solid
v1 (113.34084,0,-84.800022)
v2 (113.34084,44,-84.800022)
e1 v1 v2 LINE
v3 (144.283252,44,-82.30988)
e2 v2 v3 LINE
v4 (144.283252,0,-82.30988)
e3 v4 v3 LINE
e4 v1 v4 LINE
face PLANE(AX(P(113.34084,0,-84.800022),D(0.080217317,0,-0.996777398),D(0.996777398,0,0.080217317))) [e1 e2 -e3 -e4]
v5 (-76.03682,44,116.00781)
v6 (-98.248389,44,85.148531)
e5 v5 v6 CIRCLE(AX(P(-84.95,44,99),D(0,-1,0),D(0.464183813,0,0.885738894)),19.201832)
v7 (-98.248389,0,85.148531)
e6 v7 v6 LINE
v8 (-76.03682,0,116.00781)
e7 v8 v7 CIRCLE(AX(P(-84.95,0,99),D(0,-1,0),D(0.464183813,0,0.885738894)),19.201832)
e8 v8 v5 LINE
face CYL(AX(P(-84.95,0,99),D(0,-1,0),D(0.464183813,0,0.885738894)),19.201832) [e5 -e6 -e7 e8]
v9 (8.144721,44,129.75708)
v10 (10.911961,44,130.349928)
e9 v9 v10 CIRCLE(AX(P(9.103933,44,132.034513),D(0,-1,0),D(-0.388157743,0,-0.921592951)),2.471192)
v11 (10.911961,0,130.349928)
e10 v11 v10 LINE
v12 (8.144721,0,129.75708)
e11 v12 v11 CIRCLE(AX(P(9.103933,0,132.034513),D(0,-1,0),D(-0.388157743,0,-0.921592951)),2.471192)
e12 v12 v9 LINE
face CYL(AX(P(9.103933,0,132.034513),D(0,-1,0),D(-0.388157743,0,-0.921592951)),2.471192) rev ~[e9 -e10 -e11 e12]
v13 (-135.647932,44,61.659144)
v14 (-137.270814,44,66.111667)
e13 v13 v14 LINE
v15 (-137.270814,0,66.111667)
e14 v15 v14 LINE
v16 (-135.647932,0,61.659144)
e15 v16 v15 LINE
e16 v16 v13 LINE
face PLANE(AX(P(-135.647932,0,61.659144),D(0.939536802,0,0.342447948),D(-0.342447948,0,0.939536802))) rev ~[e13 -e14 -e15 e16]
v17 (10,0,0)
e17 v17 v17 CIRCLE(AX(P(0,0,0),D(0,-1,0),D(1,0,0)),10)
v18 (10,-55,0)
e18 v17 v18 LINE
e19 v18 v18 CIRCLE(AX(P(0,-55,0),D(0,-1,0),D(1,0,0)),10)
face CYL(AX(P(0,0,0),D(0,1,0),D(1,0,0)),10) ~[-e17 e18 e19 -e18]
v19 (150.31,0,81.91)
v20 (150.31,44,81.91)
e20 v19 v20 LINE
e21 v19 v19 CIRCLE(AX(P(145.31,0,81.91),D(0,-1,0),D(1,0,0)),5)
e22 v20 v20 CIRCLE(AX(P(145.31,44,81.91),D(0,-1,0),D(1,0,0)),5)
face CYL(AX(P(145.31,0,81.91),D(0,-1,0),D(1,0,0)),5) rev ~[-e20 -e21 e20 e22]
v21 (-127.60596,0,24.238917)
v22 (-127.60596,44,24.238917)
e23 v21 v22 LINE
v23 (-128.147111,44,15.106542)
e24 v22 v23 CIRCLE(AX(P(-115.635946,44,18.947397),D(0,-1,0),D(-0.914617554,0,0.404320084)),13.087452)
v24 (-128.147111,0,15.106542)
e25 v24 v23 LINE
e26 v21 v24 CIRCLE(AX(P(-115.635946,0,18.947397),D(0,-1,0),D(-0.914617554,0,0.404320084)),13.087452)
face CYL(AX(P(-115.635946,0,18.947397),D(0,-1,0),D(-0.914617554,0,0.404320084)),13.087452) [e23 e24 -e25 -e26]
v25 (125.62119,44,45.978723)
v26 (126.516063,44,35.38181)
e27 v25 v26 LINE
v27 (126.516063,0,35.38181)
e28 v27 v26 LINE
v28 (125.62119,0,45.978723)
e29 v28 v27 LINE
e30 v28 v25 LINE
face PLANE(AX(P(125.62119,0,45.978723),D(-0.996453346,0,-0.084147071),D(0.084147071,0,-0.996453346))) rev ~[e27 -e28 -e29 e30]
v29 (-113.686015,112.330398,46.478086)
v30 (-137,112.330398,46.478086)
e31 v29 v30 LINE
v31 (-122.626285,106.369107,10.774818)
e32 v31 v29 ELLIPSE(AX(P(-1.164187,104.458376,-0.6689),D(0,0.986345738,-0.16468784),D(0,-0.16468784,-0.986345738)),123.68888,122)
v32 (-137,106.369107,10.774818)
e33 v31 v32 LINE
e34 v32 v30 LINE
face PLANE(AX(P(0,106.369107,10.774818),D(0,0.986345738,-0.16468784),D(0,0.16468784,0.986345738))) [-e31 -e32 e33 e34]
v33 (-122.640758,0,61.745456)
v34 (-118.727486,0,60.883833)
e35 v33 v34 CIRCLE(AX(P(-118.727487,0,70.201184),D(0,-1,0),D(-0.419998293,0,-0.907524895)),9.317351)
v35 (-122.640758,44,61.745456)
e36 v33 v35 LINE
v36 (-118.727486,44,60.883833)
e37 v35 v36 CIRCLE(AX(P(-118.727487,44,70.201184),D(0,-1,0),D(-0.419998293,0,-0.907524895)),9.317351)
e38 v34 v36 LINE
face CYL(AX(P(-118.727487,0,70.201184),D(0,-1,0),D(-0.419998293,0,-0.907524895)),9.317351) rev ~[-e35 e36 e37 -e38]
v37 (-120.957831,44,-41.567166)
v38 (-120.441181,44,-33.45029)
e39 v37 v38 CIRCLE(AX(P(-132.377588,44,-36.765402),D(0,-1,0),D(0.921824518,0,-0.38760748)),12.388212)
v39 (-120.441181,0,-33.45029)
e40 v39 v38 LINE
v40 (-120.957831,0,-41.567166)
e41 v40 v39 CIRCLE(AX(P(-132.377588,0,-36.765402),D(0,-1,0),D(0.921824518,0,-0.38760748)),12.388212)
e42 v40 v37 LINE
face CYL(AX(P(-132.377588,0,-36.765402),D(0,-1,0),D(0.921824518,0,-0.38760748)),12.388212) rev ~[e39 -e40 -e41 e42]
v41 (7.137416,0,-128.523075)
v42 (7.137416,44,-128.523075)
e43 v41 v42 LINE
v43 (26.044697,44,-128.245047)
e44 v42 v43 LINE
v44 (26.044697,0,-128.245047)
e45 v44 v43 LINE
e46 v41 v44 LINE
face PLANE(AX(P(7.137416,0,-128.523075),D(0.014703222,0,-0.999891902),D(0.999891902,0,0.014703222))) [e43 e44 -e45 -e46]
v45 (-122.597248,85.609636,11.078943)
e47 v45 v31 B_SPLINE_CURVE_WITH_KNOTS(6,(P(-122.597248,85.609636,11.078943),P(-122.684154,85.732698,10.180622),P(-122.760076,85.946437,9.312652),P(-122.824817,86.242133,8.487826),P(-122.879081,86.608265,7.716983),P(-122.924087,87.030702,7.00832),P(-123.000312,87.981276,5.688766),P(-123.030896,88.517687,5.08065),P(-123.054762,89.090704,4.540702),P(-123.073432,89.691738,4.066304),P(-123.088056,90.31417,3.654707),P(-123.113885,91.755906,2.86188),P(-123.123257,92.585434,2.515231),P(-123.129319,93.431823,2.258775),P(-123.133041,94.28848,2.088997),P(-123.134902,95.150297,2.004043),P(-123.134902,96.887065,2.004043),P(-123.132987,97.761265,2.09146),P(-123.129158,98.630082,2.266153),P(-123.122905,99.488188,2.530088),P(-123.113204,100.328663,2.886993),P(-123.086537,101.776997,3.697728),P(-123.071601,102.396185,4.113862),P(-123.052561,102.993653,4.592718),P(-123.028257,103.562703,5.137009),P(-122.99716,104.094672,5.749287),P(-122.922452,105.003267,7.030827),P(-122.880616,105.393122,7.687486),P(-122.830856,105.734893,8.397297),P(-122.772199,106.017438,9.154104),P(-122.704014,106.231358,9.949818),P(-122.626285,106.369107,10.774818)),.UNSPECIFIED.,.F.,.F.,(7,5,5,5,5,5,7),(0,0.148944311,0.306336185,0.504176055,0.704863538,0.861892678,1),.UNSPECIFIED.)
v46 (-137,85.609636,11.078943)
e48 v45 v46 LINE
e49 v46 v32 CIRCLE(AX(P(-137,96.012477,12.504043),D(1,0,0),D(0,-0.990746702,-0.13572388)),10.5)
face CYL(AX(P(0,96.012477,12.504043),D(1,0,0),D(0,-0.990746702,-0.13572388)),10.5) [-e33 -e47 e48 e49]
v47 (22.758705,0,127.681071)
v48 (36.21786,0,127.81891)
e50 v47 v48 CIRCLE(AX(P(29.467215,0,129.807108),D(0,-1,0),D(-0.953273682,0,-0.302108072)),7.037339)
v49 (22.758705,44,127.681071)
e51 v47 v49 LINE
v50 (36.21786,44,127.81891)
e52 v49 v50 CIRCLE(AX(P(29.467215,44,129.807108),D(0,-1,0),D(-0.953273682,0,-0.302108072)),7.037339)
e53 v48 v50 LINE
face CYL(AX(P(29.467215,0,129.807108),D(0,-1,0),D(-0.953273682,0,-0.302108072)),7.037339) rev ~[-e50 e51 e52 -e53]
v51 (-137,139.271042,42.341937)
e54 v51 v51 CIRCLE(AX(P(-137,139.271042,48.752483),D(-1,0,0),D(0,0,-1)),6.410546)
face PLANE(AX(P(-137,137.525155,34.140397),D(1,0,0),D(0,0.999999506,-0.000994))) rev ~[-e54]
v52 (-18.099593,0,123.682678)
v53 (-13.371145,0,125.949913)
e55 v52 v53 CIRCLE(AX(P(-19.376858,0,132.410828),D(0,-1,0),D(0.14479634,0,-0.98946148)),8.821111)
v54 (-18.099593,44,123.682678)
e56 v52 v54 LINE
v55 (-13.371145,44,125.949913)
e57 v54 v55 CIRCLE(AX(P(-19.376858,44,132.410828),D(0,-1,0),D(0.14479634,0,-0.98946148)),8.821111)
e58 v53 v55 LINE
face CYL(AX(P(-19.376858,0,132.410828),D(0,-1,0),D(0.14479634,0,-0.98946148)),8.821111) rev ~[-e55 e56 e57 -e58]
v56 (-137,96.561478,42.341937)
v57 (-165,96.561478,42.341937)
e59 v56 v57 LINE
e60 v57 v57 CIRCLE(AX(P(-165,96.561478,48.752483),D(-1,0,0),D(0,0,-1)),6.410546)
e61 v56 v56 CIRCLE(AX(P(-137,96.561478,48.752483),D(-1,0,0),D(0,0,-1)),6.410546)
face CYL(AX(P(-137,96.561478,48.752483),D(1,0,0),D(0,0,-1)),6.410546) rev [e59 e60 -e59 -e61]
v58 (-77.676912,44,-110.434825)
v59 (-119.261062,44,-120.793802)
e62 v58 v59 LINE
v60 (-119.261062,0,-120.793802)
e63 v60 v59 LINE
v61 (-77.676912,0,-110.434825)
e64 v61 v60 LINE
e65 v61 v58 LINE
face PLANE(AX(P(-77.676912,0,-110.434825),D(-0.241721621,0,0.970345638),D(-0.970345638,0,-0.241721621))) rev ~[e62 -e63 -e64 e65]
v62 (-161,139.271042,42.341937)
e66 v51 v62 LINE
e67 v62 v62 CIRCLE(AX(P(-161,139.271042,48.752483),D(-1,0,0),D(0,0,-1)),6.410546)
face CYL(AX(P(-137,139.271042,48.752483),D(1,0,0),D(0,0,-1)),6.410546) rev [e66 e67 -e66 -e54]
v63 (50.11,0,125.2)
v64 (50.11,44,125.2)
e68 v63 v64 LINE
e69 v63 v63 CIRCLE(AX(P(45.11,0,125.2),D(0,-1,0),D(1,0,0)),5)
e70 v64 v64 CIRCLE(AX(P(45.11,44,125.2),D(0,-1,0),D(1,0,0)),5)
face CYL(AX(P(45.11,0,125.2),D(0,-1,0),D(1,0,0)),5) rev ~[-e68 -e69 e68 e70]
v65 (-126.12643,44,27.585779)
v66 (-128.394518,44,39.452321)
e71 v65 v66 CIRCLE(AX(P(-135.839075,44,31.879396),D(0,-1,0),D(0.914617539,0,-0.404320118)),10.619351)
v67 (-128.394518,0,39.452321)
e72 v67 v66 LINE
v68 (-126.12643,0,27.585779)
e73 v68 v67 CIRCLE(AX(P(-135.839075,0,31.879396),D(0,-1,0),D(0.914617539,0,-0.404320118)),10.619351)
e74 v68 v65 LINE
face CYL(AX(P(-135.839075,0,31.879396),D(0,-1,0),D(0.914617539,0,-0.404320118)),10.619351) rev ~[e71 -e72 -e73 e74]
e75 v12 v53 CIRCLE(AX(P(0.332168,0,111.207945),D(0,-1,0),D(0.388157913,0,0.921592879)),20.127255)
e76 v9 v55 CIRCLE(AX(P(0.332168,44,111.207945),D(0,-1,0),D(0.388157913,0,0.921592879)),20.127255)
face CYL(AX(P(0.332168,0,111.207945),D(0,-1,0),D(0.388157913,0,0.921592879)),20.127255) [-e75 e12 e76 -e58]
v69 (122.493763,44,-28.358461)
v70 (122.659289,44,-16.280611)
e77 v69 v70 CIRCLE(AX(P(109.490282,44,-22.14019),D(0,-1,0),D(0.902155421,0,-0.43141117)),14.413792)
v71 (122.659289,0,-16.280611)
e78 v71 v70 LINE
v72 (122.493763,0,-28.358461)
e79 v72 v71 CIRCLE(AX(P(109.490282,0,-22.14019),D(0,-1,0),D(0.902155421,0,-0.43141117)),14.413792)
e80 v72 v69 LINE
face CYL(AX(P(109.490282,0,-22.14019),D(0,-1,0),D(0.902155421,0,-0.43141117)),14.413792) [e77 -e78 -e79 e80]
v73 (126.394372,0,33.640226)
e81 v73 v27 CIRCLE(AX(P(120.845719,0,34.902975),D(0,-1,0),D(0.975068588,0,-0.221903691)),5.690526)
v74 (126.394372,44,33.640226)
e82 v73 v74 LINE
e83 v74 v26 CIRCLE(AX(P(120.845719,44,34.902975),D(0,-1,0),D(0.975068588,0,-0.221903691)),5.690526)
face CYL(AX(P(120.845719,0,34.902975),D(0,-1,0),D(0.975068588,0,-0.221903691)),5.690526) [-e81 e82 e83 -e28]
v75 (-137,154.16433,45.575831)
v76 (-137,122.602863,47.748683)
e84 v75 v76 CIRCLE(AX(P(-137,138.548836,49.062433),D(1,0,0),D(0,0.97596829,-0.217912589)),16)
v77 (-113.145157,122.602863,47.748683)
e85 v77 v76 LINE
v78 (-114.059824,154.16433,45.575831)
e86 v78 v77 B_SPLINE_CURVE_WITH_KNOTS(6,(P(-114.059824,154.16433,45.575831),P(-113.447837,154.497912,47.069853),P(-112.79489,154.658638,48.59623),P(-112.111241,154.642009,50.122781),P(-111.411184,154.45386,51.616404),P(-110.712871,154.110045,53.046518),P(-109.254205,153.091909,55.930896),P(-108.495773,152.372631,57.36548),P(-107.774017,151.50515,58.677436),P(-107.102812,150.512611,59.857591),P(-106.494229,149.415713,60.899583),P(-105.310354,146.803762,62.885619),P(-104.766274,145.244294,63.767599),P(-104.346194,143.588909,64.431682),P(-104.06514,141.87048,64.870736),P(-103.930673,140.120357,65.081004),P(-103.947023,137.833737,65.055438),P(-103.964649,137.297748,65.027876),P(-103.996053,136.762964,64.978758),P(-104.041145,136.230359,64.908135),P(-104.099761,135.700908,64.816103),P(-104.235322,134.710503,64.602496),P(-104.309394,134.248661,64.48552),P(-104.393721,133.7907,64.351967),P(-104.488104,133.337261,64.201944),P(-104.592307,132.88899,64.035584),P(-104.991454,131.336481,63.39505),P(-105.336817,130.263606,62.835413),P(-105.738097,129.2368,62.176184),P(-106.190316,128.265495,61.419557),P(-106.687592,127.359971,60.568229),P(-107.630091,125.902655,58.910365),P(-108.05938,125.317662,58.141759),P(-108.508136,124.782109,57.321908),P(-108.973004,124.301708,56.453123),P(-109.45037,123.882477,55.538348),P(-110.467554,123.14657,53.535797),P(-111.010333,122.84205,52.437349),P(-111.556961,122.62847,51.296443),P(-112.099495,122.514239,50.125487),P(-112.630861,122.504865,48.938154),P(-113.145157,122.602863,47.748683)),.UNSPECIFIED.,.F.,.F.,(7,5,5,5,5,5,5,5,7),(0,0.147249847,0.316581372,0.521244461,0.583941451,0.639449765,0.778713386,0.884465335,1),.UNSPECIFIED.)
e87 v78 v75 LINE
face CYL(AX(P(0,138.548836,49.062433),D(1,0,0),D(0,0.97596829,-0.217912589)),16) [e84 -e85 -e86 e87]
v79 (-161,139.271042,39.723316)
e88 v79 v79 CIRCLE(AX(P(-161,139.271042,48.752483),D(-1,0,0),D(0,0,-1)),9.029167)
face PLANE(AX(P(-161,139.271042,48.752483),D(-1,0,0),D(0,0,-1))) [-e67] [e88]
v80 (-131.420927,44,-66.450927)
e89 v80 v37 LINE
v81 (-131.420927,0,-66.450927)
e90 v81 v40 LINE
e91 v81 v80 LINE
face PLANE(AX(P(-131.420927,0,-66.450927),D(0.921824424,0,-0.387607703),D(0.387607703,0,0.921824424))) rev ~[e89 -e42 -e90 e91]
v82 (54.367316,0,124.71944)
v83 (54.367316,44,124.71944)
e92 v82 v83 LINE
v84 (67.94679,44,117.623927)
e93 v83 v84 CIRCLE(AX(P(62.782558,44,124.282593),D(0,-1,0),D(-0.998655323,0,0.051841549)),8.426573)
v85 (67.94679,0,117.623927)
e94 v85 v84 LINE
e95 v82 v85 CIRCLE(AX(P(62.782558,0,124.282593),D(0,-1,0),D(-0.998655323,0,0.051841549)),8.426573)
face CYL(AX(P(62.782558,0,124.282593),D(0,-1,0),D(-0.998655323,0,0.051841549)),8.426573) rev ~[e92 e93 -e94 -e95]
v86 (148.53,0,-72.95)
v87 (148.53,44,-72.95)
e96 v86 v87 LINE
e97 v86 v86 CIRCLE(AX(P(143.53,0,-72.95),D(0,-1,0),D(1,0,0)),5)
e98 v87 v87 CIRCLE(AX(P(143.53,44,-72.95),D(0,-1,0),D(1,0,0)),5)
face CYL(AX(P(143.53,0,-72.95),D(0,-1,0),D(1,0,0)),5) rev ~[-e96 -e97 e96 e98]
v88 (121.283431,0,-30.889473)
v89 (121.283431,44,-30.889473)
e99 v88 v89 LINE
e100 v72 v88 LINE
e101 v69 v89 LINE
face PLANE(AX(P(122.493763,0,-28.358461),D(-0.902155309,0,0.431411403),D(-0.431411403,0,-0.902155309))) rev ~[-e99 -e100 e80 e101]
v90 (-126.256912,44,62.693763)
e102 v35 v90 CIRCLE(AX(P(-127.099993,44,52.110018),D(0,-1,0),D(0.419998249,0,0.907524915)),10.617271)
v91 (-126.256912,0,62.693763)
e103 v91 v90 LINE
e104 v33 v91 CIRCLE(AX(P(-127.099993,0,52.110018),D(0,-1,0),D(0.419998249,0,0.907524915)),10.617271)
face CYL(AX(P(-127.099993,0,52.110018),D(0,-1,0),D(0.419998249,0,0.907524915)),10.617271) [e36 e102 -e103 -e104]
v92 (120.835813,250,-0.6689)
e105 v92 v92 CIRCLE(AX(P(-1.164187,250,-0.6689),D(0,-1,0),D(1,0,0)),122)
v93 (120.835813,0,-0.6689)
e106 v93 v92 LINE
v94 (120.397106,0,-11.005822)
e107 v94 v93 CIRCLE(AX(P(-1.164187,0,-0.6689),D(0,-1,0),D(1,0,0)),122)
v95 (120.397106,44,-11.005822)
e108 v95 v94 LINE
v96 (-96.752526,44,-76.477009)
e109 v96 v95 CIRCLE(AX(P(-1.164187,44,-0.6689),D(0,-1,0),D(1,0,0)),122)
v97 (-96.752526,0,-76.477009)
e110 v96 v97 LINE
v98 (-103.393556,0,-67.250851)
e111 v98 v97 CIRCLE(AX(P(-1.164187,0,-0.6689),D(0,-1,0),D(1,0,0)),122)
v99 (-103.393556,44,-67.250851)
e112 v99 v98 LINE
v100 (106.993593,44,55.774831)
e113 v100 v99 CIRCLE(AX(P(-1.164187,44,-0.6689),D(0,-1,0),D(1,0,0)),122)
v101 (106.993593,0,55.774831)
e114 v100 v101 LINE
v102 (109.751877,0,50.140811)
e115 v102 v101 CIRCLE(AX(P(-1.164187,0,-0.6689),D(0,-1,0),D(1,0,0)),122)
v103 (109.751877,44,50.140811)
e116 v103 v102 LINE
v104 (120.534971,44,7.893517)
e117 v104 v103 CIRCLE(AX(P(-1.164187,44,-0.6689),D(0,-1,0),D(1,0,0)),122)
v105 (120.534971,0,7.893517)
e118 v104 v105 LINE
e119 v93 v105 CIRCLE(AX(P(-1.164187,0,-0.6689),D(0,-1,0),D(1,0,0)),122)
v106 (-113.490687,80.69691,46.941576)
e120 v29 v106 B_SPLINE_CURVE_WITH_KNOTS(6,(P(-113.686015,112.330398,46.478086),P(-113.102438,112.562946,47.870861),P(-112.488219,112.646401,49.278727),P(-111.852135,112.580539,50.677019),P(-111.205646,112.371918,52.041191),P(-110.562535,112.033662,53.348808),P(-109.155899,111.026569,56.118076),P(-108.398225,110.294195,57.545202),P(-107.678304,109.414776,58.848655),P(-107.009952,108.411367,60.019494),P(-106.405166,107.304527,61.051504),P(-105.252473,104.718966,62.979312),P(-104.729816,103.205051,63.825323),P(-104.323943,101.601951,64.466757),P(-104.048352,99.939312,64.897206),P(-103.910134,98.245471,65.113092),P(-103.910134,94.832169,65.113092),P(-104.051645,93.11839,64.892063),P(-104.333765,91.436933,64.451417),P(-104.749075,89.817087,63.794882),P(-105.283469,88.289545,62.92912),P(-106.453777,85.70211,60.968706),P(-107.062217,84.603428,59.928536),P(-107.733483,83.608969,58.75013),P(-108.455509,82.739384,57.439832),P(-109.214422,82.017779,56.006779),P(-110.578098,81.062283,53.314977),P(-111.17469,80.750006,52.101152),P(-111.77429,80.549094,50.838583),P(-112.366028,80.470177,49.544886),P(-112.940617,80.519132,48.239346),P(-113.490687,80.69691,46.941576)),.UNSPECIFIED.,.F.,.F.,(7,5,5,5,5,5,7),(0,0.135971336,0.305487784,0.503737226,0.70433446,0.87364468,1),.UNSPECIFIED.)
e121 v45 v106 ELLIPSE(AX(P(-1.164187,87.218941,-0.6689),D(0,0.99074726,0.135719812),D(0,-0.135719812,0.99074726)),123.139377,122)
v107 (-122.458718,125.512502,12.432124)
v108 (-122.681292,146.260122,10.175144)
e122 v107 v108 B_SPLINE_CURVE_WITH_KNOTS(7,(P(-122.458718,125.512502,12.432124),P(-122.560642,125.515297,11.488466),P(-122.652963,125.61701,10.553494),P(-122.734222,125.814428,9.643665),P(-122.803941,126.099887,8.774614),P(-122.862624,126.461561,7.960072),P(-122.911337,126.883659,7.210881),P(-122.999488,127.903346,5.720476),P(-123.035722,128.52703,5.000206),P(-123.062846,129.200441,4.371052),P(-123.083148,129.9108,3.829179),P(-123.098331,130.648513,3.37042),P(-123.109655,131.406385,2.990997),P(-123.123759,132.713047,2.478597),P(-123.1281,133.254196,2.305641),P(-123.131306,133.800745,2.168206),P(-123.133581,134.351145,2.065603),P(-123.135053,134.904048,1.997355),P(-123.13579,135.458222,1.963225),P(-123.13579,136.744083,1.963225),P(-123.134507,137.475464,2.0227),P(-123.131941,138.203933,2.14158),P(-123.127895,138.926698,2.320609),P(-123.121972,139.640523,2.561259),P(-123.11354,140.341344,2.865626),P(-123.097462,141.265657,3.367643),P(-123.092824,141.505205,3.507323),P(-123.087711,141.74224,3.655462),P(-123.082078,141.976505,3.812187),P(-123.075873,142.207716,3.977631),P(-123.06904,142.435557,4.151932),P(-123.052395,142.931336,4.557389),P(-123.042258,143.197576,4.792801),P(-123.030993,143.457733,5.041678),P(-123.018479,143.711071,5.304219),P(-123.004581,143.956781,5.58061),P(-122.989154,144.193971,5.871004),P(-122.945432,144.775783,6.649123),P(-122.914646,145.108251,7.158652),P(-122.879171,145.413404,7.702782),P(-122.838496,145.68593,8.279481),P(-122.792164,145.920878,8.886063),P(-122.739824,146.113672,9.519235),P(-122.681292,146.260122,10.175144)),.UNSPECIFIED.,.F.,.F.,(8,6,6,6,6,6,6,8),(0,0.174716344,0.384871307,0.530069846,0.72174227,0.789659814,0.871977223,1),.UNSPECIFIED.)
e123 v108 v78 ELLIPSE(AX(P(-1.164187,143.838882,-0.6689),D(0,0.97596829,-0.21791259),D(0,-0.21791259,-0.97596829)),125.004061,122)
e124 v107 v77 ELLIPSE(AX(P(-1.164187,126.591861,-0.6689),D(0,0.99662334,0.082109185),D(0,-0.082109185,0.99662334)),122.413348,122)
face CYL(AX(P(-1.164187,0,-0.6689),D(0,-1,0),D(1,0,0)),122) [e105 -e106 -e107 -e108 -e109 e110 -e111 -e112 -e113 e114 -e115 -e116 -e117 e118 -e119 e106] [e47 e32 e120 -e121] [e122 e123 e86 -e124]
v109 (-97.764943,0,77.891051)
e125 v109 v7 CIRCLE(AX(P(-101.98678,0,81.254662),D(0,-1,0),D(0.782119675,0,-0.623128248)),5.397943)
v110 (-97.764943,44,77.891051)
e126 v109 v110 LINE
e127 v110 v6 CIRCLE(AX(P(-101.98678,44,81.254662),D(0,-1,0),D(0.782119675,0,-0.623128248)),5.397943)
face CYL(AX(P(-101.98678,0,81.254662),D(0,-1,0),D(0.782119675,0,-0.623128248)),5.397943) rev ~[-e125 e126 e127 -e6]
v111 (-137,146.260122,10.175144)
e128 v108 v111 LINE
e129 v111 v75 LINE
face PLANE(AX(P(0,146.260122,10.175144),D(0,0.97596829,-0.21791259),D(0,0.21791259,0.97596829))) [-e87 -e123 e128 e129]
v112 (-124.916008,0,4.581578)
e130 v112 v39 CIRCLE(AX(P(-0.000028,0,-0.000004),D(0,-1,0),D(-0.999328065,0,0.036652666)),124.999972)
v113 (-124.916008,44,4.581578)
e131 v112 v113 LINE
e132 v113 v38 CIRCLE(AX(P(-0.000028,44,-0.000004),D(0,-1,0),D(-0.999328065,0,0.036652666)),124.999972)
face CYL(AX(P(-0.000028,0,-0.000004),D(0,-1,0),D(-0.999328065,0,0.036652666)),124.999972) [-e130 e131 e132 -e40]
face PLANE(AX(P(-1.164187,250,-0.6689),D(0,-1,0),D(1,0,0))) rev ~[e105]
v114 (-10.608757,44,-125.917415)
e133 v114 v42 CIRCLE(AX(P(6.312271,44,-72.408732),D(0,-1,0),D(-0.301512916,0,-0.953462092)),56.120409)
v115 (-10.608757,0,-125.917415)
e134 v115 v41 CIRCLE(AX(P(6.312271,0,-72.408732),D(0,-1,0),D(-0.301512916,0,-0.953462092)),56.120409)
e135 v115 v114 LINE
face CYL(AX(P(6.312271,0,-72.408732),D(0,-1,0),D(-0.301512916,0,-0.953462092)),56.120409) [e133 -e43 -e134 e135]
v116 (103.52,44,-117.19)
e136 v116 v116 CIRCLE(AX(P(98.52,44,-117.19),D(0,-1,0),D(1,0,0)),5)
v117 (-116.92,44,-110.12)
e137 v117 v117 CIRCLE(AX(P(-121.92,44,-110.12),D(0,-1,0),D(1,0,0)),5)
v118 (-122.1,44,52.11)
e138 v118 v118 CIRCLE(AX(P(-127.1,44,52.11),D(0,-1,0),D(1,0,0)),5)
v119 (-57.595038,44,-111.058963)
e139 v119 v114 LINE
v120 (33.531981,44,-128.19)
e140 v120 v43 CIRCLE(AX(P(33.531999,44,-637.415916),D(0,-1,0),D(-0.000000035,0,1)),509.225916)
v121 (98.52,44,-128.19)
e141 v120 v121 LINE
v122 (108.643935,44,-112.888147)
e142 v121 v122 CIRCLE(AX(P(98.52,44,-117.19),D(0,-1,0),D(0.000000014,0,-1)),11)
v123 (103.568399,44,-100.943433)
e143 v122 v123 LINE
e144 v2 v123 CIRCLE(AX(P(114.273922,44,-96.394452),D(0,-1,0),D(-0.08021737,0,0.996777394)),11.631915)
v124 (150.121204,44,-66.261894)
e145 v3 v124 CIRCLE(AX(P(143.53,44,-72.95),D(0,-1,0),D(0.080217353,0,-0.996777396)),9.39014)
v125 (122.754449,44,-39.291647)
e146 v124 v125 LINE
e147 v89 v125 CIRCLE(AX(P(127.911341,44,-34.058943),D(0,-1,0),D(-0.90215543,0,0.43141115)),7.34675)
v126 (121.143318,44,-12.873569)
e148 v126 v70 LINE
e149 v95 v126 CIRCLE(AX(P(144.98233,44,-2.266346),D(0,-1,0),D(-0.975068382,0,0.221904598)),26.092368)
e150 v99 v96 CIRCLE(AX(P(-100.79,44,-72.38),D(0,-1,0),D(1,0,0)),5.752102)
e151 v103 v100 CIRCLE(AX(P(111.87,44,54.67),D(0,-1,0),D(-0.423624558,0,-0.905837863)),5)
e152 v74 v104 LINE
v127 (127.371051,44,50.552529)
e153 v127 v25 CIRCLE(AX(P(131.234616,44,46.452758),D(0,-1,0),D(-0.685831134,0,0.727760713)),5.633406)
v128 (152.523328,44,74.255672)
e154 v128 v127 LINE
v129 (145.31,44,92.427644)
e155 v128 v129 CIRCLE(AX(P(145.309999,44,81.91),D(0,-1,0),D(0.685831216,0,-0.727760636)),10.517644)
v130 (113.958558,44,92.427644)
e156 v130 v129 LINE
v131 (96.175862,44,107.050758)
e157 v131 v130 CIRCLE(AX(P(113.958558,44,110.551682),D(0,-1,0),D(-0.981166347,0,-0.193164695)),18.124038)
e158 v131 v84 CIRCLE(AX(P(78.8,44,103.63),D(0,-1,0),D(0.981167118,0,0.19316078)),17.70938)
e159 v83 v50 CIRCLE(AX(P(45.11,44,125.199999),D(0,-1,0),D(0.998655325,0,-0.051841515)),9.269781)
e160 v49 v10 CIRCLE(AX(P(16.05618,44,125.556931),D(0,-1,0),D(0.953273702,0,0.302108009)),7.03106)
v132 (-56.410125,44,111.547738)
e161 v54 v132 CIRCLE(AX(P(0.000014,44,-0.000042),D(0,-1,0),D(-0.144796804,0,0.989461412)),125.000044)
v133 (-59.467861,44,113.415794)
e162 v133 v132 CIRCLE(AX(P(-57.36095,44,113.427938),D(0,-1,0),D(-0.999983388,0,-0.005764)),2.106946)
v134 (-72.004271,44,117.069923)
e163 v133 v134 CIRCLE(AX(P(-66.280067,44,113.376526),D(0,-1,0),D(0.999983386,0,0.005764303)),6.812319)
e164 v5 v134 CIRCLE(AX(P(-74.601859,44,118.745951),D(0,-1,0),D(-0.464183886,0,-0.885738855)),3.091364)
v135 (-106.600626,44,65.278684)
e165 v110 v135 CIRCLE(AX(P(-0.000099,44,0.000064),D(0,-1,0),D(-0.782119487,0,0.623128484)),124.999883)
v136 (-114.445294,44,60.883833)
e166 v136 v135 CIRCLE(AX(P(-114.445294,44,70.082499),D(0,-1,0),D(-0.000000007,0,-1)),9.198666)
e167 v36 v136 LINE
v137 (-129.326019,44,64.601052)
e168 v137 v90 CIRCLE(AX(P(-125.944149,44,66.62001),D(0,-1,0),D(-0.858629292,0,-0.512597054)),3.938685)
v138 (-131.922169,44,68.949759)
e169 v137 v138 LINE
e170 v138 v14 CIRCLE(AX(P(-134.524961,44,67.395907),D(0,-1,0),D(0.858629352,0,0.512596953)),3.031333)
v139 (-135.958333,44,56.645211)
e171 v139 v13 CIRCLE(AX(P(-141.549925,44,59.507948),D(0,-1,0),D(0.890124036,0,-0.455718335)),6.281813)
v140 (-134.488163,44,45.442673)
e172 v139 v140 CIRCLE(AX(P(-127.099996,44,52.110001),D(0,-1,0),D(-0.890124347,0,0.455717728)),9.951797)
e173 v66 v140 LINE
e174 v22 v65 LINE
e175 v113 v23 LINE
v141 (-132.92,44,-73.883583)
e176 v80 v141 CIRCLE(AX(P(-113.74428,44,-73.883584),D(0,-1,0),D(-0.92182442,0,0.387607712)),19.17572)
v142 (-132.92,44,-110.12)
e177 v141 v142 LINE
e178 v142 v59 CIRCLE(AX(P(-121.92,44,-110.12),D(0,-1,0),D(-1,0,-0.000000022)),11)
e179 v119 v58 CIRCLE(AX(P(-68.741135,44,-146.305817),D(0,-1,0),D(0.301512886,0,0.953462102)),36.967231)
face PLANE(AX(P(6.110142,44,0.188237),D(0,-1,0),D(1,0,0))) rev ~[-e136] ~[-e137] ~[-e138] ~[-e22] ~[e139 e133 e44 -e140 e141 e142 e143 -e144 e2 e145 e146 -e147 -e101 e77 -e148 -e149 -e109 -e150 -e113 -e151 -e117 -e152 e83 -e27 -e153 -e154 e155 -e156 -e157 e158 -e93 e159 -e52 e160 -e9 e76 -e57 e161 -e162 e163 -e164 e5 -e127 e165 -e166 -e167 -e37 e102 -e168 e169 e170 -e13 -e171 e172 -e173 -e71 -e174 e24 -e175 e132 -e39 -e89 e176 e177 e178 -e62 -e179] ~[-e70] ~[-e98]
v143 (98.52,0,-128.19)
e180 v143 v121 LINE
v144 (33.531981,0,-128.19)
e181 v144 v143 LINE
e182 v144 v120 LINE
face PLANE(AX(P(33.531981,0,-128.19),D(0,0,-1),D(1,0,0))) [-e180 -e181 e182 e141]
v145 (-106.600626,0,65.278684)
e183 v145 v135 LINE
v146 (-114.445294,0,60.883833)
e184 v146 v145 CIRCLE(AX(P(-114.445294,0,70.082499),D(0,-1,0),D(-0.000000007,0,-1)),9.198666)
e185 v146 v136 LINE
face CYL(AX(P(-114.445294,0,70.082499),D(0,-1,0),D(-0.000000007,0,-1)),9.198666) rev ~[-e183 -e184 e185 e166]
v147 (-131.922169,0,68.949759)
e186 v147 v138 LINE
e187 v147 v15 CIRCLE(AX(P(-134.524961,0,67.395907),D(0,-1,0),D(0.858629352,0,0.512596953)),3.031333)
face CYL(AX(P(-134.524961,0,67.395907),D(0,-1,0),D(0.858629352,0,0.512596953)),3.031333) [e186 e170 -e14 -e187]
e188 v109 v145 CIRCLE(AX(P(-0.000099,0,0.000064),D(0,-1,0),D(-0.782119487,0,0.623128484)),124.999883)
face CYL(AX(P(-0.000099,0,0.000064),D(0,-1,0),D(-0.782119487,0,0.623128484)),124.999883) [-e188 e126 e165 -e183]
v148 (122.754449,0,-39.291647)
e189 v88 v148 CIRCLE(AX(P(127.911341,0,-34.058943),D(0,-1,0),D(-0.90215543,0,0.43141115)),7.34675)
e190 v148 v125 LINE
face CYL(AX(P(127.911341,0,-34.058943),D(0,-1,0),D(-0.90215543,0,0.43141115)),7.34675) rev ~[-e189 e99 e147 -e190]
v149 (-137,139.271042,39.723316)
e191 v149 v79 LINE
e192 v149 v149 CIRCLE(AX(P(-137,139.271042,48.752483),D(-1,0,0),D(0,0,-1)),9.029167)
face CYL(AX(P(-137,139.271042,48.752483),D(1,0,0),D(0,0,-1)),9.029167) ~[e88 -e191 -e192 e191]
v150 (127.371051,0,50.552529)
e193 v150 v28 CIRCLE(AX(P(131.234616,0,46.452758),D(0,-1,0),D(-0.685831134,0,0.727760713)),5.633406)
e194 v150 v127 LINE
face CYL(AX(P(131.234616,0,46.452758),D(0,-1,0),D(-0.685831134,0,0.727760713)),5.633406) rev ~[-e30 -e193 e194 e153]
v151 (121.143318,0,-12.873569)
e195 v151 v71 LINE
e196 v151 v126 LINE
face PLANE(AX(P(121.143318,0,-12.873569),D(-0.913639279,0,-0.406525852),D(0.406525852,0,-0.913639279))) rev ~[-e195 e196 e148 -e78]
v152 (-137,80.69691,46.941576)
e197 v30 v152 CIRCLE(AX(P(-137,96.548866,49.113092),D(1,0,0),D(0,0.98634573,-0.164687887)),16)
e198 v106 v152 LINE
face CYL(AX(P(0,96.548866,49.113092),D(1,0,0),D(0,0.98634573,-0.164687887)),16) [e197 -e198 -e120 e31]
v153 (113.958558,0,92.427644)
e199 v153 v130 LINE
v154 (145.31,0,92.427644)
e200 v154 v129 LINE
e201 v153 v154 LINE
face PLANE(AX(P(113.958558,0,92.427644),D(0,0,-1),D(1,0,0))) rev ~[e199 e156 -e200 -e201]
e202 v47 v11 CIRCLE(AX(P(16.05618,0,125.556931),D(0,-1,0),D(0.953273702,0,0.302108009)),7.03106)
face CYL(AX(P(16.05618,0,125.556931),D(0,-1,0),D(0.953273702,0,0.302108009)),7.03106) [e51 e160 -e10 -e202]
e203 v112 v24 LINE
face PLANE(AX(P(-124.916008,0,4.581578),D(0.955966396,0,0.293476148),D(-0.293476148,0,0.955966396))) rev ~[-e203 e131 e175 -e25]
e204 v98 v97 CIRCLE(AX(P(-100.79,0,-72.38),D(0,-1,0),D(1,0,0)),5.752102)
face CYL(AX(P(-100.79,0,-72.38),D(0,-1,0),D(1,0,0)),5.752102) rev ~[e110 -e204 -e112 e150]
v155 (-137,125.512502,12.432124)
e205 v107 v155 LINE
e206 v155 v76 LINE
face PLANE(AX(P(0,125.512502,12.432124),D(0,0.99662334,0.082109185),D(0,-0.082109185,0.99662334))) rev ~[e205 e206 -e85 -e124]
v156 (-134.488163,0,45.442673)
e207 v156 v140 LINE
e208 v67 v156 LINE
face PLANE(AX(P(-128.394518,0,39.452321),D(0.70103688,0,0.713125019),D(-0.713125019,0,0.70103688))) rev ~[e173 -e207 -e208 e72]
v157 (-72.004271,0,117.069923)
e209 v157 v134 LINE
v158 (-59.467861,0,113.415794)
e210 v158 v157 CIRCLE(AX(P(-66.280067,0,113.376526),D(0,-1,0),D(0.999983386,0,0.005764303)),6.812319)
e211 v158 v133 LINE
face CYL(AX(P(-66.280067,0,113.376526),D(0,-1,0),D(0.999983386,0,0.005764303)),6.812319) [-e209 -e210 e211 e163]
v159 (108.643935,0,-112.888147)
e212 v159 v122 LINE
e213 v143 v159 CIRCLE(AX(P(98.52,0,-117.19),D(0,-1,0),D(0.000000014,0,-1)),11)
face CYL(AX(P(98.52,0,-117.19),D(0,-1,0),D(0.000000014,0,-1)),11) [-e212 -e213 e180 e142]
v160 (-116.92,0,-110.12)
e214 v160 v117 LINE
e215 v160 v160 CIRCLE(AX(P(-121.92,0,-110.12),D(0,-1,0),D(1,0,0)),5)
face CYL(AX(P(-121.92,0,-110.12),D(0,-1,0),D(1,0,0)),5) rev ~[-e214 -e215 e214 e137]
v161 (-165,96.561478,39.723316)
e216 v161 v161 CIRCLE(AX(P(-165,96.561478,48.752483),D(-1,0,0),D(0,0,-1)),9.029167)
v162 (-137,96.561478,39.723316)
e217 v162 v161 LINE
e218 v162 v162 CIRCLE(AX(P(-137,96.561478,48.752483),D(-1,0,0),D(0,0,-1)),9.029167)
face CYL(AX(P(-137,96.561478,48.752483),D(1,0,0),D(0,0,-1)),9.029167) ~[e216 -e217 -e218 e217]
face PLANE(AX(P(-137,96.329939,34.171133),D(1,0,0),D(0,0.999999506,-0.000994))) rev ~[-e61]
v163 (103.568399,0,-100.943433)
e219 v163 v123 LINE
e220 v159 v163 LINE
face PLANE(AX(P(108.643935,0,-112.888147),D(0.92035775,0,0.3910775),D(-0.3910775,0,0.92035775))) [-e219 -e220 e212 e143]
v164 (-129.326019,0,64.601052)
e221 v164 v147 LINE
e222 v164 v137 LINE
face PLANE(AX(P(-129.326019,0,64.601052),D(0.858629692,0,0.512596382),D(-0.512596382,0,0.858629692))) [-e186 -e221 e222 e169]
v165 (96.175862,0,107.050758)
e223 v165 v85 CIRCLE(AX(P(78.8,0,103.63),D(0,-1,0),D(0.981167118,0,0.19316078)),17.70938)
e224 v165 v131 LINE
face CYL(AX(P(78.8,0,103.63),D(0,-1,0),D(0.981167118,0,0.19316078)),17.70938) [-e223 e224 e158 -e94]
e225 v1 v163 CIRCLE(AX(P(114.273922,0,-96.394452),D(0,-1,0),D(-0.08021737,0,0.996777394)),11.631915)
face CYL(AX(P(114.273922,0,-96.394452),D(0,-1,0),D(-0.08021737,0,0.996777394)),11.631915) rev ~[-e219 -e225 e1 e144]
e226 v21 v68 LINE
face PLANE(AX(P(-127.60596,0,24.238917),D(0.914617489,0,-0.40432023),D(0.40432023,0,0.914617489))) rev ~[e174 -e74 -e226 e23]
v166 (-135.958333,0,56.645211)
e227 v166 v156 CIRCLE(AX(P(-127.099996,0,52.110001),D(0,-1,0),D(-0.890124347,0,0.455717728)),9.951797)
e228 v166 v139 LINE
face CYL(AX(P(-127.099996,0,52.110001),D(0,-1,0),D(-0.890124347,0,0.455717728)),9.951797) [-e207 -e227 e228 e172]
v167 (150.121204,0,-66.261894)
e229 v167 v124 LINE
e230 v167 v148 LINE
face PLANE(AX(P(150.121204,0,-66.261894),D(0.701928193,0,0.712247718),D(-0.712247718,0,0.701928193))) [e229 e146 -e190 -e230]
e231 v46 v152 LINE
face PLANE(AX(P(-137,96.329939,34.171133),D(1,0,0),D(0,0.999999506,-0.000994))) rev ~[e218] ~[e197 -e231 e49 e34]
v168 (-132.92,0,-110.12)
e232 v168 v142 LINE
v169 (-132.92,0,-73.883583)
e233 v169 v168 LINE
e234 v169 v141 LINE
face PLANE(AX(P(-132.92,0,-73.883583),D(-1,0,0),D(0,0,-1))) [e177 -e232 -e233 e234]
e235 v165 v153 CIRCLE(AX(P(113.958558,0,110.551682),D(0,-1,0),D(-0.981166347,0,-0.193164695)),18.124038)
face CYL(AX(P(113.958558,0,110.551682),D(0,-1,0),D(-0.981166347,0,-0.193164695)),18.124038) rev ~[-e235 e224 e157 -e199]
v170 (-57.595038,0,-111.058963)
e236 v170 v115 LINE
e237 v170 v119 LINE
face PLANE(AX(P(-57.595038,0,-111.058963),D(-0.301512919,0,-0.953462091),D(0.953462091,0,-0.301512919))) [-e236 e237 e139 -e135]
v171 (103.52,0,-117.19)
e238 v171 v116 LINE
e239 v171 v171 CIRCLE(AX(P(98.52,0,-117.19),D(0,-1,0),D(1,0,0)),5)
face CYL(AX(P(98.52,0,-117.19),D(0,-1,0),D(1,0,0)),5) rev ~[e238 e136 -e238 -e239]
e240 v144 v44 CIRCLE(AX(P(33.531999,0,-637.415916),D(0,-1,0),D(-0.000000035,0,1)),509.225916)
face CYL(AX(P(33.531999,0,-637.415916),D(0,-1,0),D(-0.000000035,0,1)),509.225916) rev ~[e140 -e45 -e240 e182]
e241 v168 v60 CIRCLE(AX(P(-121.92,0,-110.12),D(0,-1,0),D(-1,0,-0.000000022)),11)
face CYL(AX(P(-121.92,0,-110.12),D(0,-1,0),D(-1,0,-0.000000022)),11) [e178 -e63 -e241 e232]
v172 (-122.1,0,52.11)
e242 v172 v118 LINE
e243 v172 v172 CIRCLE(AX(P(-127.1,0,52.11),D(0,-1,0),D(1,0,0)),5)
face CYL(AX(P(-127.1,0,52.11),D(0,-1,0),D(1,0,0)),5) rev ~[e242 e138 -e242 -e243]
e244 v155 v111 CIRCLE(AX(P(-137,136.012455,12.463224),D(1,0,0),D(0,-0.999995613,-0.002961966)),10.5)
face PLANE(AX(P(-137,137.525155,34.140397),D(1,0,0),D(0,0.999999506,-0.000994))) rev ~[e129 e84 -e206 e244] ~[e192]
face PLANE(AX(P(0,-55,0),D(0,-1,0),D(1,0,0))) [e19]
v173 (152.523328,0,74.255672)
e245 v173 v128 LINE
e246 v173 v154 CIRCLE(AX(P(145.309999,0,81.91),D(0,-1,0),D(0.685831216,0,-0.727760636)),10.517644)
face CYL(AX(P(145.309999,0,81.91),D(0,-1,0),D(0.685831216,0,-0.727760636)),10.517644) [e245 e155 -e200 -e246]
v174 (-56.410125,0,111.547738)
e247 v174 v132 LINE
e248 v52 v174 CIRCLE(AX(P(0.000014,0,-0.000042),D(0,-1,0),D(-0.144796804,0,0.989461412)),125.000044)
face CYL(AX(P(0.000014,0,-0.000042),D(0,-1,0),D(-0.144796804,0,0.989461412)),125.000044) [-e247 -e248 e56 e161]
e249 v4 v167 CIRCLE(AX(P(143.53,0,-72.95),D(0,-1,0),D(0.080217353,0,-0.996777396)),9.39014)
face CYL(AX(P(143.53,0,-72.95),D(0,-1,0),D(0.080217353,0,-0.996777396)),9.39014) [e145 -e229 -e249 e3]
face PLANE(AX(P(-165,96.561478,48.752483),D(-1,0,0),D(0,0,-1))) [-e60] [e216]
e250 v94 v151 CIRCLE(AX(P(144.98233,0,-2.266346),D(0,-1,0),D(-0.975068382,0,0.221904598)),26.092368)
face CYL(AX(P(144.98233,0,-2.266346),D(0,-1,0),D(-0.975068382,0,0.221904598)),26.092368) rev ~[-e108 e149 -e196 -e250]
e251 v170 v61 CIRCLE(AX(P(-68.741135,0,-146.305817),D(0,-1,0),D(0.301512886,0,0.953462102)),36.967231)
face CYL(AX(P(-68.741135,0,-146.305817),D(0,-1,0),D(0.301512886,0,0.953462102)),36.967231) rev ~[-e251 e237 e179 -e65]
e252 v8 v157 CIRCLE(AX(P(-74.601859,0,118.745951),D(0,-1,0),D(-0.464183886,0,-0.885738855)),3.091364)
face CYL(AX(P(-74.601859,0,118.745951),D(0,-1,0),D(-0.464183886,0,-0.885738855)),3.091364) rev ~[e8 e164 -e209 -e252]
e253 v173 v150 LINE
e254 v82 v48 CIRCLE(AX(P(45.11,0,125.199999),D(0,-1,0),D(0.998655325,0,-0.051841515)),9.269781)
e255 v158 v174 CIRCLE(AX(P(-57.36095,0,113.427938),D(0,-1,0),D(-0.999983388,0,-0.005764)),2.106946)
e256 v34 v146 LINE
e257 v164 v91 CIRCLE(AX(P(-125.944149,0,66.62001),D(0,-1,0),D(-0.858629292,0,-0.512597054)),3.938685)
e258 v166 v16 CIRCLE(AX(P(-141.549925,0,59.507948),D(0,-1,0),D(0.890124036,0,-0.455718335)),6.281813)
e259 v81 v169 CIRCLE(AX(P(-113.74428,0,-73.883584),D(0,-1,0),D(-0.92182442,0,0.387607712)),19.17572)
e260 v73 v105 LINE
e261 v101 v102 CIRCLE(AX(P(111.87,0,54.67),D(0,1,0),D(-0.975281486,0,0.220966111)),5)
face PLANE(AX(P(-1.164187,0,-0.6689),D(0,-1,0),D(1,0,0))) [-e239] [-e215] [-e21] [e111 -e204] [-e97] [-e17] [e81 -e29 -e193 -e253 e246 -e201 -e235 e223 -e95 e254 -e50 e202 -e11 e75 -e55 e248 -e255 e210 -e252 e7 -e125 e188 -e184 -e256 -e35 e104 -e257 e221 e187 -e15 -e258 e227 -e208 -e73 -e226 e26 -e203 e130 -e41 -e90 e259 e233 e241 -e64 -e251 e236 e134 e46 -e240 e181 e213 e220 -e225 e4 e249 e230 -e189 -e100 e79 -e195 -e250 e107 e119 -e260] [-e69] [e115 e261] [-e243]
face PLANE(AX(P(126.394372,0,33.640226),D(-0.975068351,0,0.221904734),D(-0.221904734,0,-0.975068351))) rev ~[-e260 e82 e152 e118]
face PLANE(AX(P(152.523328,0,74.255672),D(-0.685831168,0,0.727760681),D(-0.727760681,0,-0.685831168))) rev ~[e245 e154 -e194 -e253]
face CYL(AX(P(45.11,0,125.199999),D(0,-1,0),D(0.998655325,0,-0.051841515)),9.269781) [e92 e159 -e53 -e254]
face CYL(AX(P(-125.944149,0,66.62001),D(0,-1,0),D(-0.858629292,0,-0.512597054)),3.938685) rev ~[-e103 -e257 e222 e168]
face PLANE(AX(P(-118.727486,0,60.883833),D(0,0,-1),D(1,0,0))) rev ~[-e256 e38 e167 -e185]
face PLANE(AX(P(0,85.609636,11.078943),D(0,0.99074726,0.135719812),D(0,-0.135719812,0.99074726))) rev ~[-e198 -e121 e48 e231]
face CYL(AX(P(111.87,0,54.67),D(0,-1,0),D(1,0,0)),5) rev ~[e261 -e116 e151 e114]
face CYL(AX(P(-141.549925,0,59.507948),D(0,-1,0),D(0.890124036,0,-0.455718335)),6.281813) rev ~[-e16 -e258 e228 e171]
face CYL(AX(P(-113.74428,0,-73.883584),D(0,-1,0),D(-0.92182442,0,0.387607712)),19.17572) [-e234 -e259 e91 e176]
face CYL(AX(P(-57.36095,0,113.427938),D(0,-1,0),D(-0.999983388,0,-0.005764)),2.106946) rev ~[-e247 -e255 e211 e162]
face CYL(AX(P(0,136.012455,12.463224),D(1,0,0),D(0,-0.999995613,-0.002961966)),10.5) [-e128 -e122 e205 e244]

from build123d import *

# Parameters (mm, degrees)
SKETCH_R      = 10
PAD_DEPTH     = 55
SKETCH001_R   = 5
SKETCH001_R_2 = 5.752102
PAD001_DEPTH  = 44
SKETCH002_R   = 122
PAD002_DEPTH  = 250
PAD003_DEPTH  = 137
SKETCH004_R   = 9.029167
SKETCH004_R_2 = 6.410546
PAD004_DEPTH  = 28
SKETCH005_R   = 9.029167
SKETCH005_R_2 = 6.410546
PAD005_DEPTH  = 24


with BuildPart() as part:
    # Sketch → Pad (new body)
    with BuildSketch(Plane.XZ):
        Circle(SKETCH_R)
    extrude(amount=PAD_DEPTH)

    # Sketch001 → Pad001 (join)
    with BuildSketch(Plane.XZ):
        with BuildLine():
            ThreePointArc((96.175862, 107.050758), (85.01162, 120.214268), (67.94679, 117.623927))
            ThreePointArc((54.367316, 124.71944), (58.880143, 116.814107), (67.94679, 117.623927))
            ThreePointArc((54.367316, 124.71944), (46.670454, 134.337495), (36.21786, 127.81891))
            ThreePointArc((22.758705, 127.681071), (29.539283, 122.770138), (36.21786, 127.81891))
            ThreePointArc((22.758705, 127.681071), (17.601424, 132.416088), (10.911961, 130.349928))
            ThreePointArc((8.144721, 129.75708), (9.62161, 129.618152), (10.911961, 130.349928))
            ThreePointArc((8.144721, 129.75708), (-3.17481, 131.027317), (-13.371145, 125.949913))
            ThreePointArc((-18.099593, 123.682678), (-15.562998, 124.456805), (-13.371145, 125.949913))
            ThreePointArc((-18.099593, 123.682678), (-37.745711, 119.164849), (-56.410125, 111.547738))
            ThreePointArc((-59.467861, 113.415794), (-58.459377, 111.629973), (-56.410125, 111.547738))
            ThreePointArc((-59.467861, 113.415794), (-64.373735, 119.916678), (-72.004271, 117.069923))
            ThreePointArc((-76.03682, 116.00781), (-73.814492, 115.756539), (-72.004271, 117.069923))
            ThreePointArc((-76.03682, 116.00781), (-100.534649, 110.217356), (-98.248389, 85.148531))
            ThreePointArc((-97.764943, 77.891051), (-96.600774, 81.613442), (-98.248389, 85.148531))
            ThreePointArc((-97.764943, 77.891051), (-102.377192, 71.721061), (-106.600626, 65.278684))
            ThreePointArc((-114.445294, 60.883833), (-109.949364, 62.057409), (-106.600626, 65.278684))
            Line((-118.727486, 60.883833), (-114.445294, 60.883833))
            ThreePointArc((-122.640758, 61.745456), (-120.730989, 61.101788), (-118.727486, 60.883833))
            ThreePointArc((-122.640758, 61.745456), (-124.406768, 62.380022), (-126.256912, 62.693763))
            ThreePointArc((-129.326019, 64.601052), (-128.023095, 63.274682), (-126.256912, 62.693763))
            Line((-129.326019, 64.601052), (-131.922169, 68.949759))
            ThreePointArc((-131.922169, 68.949759), (-135.945808, 70.073625), (-137.270814, 66.111667))
            Line((-135.647932, 61.659144), (-137.270814, 66.111667))
            ThreePointArc((-135.958333, 56.645211), (-135.280116, 59.119799), (-135.647932, 61.659144))
            ThreePointArc((-135.958333, 56.645211), (-136.967186, 50.815076), (-134.488163, 45.442673))
            Line((-128.394518, 39.452321), (-134.488163, 45.442673))
            ThreePointArc((-126.12643, 27.585779), (-125.408538, 33.873016), (-128.394518, 39.452321))
            Line((-127.60596, 24.238917), (-126.12643, 27.585779))
            ThreePointArc((-127.60596, 24.238917), (-128.700482, 19.721553), (-128.147111, 15.106542))
            Line((-124.916008, 4.581578), (-128.147111, 15.106542))
            ThreePointArc((-124.916008, 4.581578), (-124.14364, -14.606734), (-120.441181, -33.45029))
            ThreePointArc((-120.957831, -41.567166), (-120.014396, -37.552337), (-120.441181, -33.45029))
            Line((-131.420927, -66.450927), (-120.957831, -41.567166))
            ThreePointArc((-131.420927, -66.450927), (-132.541496, -70.092422), (-132.92, -73.883583))
            Line((-132.92, -73.883583), (-132.92, -110.12))
            ThreePointArc((-132.92, -110.12), (-128.693171, -118.787419), (-119.261062, -120.793802))
            Line((-77.676912, -110.434825), (-119.261062, -120.793802))
            ThreePointArc((-57.595038, -111.058963), (-67.59276, -109.356427), (-77.676912, -110.434825))
            Line((-57.595038, -111.058963), (-10.608757, -125.917415))
            ThreePointArc((-10.608757, -125.917415), (-1.840442, -127.933804), (7.137416, -128.523075))
            Line((7.137416, -128.523075), (26.044697, -128.245047))
            ThreePointArc((33.531981, -128.19), (29.788238, -128.203762), (26.044697, -128.245047))
            Line((33.531981, -128.19), (98.52, -128.19))
            ThreePointArc((98.52, -128.19), (107.693886, -123.259581), (108.643935, -112.888147))
            Line((108.643935, -112.888147), (103.568399, -100.943433))
            ThreePointArc((113.34084, -84.800022), (104.323208, -90.37077), (103.568399, -100.943433))
            Line((113.34084, -84.800022), (144.283252, -82.30988))
            ThreePointArc((144.283252, -82.30988), (152.354382, -76.160143), (150.121204, -66.261894))
            Line((150.121204, -66.261894), (122.754449, -39.291647))
            ThreePointArc((121.283431, -30.889473), (120.674662, -35.32591), (122.754449, -39.291647))
            Line((122.493763, -28.358461), (121.283431, -30.889473))
            ThreePointArc((122.493763, -28.358461), (123.902721, -22.337711), (122.659289, -16.280611))
            Line((121.143318, -12.873569), (122.659289, -16.280611))
            ThreePointArc((119.540487, 3.52367), (119.013733, -4.804778), (121.143318, -12.873569))
            Line((126.394372, 33.640226), (119.540487, 3.52367))
            ThreePointArc((126.394372, 33.640226), (126.522404, 34.506324), (126.516063, 35.38181))
            Line((125.62119, 45.978723), (126.516063, 35.38181))
            ThreePointArc((127.371051, 50.552529), (125.973127, 48.465714), (125.62119, 45.978723))
            Line((152.523328, 74.255672), (127.371051, 50.552529))
            ThreePointArc((152.523328, 74.255672), (155.085641, 85.790421), (145.31, 92.427644))
            Line((113.958558, 92.427644), (145.31, 92.427644))
            ThreePointArc((96.175862, 107.050758), (102.447045, 96.552903), (113.958558, 92.427644))
        make_face()
        with Locations((145.31, 81.91)):
            Circle(SKETCH001_R, mode=Mode.SUBTRACT)
        with Locations((45.11, 125.2)):
            Circle(SKETCH001_R, mode=Mode.SUBTRACT)
        with Locations((143.53, -72.95)):
            Circle(SKETCH001_R, mode=Mode.SUBTRACT)
        with Locations((98.52, -117.19)):
            Circle(SKETCH001_R, mode=Mode.SUBTRACT)
        with Locations((-121.92, -110.12)):
            Circle(SKETCH001_R, mode=Mode.SUBTRACT)
        with Locations((-127.1, 52.11)):
            Circle(SKETCH001_R, mode=Mode.SUBTRACT)
        with Locations((111.87, 54.67)):
            Circle(SKETCH001_R, mode=Mode.SUBTRACT)
        with Locations((-100.79, -72.38)):
            Circle(SKETCH001_R_2, mode=Mode.SUBTRACT)
    extrude(amount=-PAD001_DEPTH)

    # Sketch002 → Pad002 (join)
    with BuildSketch(Plane.XZ):
        with Locations((-1.164187, -0.6689)):
            Circle(SKETCH002_R)
    extrude(amount=-PAD002_DEPTH)

    # Sketch003 → Pad003 (join)
    with BuildSketch(Plane(origin=(0, 0, 0), x_dir=(0, 1, -0.000994), z_dir=(1, 0, 0))):
        with BuildLine():
            ThreePointArc((154.118951, 45.729048), (139.583053, 65.163428), (122.55534, 47.870527))
            Line((125.500082, 12.556877), (122.55534, 47.870527))
            ThreePointArc((125.500082, 12.556877), (134.874857, 2.158872), (146.249936, 10.320521))
            Line((146.249936, 10.320521), (154.118951, 45.729048))
        make_face()
        with BuildLine():
            ThreePointArc((112.284143, 46.589719), (96.718502, 65.207545), (80.65021, 47.021765))
            Line((85.598581, 11.164033), (80.65021, 47.021765))
            ThreePointArc((85.598581, 11.164033), (95.856629, 2.100452), (106.358344, 10.880544))
            Line((106.358344, 10.880544), (112.284143, 46.589719))
        make_face()
    extrude(amount=-PAD003_DEPTH)

    # Sketch004 (on Face91 of Pad003) → Pad004 (join)
    with BuildSketch(Plane(origin=(-137, 0, 0), x_dir=(0, 0, -1), z_dir=(-1, 0, 0))):
        with Locations((-48.752483, -96.561478)):
            Circle(SKETCH004_R)
        with Locations((-48.752483, -96.561478)):
            Circle(SKETCH004_R_2, mode=Mode.SUBTRACT)
    extrude(amount=PAD004_DEPTH)

    # Sketch005 (on Face90 of Pad004) → Pad005 (join)
    with BuildSketch(Plane(origin=(-137, 0, 0), x_dir=(0, 0, -1), z_dir=(-1, 0, 0))):
        with Locations((-48.752483, -139.271042)):
            Circle(SKETCH005_R)
        with Locations((-48.752483, -139.271042)):
            Circle(SKETCH005_R_2, mode=Mode.SUBTRACT)
    extrude(amount=PAD005_DEPTH)


solid = part.part
